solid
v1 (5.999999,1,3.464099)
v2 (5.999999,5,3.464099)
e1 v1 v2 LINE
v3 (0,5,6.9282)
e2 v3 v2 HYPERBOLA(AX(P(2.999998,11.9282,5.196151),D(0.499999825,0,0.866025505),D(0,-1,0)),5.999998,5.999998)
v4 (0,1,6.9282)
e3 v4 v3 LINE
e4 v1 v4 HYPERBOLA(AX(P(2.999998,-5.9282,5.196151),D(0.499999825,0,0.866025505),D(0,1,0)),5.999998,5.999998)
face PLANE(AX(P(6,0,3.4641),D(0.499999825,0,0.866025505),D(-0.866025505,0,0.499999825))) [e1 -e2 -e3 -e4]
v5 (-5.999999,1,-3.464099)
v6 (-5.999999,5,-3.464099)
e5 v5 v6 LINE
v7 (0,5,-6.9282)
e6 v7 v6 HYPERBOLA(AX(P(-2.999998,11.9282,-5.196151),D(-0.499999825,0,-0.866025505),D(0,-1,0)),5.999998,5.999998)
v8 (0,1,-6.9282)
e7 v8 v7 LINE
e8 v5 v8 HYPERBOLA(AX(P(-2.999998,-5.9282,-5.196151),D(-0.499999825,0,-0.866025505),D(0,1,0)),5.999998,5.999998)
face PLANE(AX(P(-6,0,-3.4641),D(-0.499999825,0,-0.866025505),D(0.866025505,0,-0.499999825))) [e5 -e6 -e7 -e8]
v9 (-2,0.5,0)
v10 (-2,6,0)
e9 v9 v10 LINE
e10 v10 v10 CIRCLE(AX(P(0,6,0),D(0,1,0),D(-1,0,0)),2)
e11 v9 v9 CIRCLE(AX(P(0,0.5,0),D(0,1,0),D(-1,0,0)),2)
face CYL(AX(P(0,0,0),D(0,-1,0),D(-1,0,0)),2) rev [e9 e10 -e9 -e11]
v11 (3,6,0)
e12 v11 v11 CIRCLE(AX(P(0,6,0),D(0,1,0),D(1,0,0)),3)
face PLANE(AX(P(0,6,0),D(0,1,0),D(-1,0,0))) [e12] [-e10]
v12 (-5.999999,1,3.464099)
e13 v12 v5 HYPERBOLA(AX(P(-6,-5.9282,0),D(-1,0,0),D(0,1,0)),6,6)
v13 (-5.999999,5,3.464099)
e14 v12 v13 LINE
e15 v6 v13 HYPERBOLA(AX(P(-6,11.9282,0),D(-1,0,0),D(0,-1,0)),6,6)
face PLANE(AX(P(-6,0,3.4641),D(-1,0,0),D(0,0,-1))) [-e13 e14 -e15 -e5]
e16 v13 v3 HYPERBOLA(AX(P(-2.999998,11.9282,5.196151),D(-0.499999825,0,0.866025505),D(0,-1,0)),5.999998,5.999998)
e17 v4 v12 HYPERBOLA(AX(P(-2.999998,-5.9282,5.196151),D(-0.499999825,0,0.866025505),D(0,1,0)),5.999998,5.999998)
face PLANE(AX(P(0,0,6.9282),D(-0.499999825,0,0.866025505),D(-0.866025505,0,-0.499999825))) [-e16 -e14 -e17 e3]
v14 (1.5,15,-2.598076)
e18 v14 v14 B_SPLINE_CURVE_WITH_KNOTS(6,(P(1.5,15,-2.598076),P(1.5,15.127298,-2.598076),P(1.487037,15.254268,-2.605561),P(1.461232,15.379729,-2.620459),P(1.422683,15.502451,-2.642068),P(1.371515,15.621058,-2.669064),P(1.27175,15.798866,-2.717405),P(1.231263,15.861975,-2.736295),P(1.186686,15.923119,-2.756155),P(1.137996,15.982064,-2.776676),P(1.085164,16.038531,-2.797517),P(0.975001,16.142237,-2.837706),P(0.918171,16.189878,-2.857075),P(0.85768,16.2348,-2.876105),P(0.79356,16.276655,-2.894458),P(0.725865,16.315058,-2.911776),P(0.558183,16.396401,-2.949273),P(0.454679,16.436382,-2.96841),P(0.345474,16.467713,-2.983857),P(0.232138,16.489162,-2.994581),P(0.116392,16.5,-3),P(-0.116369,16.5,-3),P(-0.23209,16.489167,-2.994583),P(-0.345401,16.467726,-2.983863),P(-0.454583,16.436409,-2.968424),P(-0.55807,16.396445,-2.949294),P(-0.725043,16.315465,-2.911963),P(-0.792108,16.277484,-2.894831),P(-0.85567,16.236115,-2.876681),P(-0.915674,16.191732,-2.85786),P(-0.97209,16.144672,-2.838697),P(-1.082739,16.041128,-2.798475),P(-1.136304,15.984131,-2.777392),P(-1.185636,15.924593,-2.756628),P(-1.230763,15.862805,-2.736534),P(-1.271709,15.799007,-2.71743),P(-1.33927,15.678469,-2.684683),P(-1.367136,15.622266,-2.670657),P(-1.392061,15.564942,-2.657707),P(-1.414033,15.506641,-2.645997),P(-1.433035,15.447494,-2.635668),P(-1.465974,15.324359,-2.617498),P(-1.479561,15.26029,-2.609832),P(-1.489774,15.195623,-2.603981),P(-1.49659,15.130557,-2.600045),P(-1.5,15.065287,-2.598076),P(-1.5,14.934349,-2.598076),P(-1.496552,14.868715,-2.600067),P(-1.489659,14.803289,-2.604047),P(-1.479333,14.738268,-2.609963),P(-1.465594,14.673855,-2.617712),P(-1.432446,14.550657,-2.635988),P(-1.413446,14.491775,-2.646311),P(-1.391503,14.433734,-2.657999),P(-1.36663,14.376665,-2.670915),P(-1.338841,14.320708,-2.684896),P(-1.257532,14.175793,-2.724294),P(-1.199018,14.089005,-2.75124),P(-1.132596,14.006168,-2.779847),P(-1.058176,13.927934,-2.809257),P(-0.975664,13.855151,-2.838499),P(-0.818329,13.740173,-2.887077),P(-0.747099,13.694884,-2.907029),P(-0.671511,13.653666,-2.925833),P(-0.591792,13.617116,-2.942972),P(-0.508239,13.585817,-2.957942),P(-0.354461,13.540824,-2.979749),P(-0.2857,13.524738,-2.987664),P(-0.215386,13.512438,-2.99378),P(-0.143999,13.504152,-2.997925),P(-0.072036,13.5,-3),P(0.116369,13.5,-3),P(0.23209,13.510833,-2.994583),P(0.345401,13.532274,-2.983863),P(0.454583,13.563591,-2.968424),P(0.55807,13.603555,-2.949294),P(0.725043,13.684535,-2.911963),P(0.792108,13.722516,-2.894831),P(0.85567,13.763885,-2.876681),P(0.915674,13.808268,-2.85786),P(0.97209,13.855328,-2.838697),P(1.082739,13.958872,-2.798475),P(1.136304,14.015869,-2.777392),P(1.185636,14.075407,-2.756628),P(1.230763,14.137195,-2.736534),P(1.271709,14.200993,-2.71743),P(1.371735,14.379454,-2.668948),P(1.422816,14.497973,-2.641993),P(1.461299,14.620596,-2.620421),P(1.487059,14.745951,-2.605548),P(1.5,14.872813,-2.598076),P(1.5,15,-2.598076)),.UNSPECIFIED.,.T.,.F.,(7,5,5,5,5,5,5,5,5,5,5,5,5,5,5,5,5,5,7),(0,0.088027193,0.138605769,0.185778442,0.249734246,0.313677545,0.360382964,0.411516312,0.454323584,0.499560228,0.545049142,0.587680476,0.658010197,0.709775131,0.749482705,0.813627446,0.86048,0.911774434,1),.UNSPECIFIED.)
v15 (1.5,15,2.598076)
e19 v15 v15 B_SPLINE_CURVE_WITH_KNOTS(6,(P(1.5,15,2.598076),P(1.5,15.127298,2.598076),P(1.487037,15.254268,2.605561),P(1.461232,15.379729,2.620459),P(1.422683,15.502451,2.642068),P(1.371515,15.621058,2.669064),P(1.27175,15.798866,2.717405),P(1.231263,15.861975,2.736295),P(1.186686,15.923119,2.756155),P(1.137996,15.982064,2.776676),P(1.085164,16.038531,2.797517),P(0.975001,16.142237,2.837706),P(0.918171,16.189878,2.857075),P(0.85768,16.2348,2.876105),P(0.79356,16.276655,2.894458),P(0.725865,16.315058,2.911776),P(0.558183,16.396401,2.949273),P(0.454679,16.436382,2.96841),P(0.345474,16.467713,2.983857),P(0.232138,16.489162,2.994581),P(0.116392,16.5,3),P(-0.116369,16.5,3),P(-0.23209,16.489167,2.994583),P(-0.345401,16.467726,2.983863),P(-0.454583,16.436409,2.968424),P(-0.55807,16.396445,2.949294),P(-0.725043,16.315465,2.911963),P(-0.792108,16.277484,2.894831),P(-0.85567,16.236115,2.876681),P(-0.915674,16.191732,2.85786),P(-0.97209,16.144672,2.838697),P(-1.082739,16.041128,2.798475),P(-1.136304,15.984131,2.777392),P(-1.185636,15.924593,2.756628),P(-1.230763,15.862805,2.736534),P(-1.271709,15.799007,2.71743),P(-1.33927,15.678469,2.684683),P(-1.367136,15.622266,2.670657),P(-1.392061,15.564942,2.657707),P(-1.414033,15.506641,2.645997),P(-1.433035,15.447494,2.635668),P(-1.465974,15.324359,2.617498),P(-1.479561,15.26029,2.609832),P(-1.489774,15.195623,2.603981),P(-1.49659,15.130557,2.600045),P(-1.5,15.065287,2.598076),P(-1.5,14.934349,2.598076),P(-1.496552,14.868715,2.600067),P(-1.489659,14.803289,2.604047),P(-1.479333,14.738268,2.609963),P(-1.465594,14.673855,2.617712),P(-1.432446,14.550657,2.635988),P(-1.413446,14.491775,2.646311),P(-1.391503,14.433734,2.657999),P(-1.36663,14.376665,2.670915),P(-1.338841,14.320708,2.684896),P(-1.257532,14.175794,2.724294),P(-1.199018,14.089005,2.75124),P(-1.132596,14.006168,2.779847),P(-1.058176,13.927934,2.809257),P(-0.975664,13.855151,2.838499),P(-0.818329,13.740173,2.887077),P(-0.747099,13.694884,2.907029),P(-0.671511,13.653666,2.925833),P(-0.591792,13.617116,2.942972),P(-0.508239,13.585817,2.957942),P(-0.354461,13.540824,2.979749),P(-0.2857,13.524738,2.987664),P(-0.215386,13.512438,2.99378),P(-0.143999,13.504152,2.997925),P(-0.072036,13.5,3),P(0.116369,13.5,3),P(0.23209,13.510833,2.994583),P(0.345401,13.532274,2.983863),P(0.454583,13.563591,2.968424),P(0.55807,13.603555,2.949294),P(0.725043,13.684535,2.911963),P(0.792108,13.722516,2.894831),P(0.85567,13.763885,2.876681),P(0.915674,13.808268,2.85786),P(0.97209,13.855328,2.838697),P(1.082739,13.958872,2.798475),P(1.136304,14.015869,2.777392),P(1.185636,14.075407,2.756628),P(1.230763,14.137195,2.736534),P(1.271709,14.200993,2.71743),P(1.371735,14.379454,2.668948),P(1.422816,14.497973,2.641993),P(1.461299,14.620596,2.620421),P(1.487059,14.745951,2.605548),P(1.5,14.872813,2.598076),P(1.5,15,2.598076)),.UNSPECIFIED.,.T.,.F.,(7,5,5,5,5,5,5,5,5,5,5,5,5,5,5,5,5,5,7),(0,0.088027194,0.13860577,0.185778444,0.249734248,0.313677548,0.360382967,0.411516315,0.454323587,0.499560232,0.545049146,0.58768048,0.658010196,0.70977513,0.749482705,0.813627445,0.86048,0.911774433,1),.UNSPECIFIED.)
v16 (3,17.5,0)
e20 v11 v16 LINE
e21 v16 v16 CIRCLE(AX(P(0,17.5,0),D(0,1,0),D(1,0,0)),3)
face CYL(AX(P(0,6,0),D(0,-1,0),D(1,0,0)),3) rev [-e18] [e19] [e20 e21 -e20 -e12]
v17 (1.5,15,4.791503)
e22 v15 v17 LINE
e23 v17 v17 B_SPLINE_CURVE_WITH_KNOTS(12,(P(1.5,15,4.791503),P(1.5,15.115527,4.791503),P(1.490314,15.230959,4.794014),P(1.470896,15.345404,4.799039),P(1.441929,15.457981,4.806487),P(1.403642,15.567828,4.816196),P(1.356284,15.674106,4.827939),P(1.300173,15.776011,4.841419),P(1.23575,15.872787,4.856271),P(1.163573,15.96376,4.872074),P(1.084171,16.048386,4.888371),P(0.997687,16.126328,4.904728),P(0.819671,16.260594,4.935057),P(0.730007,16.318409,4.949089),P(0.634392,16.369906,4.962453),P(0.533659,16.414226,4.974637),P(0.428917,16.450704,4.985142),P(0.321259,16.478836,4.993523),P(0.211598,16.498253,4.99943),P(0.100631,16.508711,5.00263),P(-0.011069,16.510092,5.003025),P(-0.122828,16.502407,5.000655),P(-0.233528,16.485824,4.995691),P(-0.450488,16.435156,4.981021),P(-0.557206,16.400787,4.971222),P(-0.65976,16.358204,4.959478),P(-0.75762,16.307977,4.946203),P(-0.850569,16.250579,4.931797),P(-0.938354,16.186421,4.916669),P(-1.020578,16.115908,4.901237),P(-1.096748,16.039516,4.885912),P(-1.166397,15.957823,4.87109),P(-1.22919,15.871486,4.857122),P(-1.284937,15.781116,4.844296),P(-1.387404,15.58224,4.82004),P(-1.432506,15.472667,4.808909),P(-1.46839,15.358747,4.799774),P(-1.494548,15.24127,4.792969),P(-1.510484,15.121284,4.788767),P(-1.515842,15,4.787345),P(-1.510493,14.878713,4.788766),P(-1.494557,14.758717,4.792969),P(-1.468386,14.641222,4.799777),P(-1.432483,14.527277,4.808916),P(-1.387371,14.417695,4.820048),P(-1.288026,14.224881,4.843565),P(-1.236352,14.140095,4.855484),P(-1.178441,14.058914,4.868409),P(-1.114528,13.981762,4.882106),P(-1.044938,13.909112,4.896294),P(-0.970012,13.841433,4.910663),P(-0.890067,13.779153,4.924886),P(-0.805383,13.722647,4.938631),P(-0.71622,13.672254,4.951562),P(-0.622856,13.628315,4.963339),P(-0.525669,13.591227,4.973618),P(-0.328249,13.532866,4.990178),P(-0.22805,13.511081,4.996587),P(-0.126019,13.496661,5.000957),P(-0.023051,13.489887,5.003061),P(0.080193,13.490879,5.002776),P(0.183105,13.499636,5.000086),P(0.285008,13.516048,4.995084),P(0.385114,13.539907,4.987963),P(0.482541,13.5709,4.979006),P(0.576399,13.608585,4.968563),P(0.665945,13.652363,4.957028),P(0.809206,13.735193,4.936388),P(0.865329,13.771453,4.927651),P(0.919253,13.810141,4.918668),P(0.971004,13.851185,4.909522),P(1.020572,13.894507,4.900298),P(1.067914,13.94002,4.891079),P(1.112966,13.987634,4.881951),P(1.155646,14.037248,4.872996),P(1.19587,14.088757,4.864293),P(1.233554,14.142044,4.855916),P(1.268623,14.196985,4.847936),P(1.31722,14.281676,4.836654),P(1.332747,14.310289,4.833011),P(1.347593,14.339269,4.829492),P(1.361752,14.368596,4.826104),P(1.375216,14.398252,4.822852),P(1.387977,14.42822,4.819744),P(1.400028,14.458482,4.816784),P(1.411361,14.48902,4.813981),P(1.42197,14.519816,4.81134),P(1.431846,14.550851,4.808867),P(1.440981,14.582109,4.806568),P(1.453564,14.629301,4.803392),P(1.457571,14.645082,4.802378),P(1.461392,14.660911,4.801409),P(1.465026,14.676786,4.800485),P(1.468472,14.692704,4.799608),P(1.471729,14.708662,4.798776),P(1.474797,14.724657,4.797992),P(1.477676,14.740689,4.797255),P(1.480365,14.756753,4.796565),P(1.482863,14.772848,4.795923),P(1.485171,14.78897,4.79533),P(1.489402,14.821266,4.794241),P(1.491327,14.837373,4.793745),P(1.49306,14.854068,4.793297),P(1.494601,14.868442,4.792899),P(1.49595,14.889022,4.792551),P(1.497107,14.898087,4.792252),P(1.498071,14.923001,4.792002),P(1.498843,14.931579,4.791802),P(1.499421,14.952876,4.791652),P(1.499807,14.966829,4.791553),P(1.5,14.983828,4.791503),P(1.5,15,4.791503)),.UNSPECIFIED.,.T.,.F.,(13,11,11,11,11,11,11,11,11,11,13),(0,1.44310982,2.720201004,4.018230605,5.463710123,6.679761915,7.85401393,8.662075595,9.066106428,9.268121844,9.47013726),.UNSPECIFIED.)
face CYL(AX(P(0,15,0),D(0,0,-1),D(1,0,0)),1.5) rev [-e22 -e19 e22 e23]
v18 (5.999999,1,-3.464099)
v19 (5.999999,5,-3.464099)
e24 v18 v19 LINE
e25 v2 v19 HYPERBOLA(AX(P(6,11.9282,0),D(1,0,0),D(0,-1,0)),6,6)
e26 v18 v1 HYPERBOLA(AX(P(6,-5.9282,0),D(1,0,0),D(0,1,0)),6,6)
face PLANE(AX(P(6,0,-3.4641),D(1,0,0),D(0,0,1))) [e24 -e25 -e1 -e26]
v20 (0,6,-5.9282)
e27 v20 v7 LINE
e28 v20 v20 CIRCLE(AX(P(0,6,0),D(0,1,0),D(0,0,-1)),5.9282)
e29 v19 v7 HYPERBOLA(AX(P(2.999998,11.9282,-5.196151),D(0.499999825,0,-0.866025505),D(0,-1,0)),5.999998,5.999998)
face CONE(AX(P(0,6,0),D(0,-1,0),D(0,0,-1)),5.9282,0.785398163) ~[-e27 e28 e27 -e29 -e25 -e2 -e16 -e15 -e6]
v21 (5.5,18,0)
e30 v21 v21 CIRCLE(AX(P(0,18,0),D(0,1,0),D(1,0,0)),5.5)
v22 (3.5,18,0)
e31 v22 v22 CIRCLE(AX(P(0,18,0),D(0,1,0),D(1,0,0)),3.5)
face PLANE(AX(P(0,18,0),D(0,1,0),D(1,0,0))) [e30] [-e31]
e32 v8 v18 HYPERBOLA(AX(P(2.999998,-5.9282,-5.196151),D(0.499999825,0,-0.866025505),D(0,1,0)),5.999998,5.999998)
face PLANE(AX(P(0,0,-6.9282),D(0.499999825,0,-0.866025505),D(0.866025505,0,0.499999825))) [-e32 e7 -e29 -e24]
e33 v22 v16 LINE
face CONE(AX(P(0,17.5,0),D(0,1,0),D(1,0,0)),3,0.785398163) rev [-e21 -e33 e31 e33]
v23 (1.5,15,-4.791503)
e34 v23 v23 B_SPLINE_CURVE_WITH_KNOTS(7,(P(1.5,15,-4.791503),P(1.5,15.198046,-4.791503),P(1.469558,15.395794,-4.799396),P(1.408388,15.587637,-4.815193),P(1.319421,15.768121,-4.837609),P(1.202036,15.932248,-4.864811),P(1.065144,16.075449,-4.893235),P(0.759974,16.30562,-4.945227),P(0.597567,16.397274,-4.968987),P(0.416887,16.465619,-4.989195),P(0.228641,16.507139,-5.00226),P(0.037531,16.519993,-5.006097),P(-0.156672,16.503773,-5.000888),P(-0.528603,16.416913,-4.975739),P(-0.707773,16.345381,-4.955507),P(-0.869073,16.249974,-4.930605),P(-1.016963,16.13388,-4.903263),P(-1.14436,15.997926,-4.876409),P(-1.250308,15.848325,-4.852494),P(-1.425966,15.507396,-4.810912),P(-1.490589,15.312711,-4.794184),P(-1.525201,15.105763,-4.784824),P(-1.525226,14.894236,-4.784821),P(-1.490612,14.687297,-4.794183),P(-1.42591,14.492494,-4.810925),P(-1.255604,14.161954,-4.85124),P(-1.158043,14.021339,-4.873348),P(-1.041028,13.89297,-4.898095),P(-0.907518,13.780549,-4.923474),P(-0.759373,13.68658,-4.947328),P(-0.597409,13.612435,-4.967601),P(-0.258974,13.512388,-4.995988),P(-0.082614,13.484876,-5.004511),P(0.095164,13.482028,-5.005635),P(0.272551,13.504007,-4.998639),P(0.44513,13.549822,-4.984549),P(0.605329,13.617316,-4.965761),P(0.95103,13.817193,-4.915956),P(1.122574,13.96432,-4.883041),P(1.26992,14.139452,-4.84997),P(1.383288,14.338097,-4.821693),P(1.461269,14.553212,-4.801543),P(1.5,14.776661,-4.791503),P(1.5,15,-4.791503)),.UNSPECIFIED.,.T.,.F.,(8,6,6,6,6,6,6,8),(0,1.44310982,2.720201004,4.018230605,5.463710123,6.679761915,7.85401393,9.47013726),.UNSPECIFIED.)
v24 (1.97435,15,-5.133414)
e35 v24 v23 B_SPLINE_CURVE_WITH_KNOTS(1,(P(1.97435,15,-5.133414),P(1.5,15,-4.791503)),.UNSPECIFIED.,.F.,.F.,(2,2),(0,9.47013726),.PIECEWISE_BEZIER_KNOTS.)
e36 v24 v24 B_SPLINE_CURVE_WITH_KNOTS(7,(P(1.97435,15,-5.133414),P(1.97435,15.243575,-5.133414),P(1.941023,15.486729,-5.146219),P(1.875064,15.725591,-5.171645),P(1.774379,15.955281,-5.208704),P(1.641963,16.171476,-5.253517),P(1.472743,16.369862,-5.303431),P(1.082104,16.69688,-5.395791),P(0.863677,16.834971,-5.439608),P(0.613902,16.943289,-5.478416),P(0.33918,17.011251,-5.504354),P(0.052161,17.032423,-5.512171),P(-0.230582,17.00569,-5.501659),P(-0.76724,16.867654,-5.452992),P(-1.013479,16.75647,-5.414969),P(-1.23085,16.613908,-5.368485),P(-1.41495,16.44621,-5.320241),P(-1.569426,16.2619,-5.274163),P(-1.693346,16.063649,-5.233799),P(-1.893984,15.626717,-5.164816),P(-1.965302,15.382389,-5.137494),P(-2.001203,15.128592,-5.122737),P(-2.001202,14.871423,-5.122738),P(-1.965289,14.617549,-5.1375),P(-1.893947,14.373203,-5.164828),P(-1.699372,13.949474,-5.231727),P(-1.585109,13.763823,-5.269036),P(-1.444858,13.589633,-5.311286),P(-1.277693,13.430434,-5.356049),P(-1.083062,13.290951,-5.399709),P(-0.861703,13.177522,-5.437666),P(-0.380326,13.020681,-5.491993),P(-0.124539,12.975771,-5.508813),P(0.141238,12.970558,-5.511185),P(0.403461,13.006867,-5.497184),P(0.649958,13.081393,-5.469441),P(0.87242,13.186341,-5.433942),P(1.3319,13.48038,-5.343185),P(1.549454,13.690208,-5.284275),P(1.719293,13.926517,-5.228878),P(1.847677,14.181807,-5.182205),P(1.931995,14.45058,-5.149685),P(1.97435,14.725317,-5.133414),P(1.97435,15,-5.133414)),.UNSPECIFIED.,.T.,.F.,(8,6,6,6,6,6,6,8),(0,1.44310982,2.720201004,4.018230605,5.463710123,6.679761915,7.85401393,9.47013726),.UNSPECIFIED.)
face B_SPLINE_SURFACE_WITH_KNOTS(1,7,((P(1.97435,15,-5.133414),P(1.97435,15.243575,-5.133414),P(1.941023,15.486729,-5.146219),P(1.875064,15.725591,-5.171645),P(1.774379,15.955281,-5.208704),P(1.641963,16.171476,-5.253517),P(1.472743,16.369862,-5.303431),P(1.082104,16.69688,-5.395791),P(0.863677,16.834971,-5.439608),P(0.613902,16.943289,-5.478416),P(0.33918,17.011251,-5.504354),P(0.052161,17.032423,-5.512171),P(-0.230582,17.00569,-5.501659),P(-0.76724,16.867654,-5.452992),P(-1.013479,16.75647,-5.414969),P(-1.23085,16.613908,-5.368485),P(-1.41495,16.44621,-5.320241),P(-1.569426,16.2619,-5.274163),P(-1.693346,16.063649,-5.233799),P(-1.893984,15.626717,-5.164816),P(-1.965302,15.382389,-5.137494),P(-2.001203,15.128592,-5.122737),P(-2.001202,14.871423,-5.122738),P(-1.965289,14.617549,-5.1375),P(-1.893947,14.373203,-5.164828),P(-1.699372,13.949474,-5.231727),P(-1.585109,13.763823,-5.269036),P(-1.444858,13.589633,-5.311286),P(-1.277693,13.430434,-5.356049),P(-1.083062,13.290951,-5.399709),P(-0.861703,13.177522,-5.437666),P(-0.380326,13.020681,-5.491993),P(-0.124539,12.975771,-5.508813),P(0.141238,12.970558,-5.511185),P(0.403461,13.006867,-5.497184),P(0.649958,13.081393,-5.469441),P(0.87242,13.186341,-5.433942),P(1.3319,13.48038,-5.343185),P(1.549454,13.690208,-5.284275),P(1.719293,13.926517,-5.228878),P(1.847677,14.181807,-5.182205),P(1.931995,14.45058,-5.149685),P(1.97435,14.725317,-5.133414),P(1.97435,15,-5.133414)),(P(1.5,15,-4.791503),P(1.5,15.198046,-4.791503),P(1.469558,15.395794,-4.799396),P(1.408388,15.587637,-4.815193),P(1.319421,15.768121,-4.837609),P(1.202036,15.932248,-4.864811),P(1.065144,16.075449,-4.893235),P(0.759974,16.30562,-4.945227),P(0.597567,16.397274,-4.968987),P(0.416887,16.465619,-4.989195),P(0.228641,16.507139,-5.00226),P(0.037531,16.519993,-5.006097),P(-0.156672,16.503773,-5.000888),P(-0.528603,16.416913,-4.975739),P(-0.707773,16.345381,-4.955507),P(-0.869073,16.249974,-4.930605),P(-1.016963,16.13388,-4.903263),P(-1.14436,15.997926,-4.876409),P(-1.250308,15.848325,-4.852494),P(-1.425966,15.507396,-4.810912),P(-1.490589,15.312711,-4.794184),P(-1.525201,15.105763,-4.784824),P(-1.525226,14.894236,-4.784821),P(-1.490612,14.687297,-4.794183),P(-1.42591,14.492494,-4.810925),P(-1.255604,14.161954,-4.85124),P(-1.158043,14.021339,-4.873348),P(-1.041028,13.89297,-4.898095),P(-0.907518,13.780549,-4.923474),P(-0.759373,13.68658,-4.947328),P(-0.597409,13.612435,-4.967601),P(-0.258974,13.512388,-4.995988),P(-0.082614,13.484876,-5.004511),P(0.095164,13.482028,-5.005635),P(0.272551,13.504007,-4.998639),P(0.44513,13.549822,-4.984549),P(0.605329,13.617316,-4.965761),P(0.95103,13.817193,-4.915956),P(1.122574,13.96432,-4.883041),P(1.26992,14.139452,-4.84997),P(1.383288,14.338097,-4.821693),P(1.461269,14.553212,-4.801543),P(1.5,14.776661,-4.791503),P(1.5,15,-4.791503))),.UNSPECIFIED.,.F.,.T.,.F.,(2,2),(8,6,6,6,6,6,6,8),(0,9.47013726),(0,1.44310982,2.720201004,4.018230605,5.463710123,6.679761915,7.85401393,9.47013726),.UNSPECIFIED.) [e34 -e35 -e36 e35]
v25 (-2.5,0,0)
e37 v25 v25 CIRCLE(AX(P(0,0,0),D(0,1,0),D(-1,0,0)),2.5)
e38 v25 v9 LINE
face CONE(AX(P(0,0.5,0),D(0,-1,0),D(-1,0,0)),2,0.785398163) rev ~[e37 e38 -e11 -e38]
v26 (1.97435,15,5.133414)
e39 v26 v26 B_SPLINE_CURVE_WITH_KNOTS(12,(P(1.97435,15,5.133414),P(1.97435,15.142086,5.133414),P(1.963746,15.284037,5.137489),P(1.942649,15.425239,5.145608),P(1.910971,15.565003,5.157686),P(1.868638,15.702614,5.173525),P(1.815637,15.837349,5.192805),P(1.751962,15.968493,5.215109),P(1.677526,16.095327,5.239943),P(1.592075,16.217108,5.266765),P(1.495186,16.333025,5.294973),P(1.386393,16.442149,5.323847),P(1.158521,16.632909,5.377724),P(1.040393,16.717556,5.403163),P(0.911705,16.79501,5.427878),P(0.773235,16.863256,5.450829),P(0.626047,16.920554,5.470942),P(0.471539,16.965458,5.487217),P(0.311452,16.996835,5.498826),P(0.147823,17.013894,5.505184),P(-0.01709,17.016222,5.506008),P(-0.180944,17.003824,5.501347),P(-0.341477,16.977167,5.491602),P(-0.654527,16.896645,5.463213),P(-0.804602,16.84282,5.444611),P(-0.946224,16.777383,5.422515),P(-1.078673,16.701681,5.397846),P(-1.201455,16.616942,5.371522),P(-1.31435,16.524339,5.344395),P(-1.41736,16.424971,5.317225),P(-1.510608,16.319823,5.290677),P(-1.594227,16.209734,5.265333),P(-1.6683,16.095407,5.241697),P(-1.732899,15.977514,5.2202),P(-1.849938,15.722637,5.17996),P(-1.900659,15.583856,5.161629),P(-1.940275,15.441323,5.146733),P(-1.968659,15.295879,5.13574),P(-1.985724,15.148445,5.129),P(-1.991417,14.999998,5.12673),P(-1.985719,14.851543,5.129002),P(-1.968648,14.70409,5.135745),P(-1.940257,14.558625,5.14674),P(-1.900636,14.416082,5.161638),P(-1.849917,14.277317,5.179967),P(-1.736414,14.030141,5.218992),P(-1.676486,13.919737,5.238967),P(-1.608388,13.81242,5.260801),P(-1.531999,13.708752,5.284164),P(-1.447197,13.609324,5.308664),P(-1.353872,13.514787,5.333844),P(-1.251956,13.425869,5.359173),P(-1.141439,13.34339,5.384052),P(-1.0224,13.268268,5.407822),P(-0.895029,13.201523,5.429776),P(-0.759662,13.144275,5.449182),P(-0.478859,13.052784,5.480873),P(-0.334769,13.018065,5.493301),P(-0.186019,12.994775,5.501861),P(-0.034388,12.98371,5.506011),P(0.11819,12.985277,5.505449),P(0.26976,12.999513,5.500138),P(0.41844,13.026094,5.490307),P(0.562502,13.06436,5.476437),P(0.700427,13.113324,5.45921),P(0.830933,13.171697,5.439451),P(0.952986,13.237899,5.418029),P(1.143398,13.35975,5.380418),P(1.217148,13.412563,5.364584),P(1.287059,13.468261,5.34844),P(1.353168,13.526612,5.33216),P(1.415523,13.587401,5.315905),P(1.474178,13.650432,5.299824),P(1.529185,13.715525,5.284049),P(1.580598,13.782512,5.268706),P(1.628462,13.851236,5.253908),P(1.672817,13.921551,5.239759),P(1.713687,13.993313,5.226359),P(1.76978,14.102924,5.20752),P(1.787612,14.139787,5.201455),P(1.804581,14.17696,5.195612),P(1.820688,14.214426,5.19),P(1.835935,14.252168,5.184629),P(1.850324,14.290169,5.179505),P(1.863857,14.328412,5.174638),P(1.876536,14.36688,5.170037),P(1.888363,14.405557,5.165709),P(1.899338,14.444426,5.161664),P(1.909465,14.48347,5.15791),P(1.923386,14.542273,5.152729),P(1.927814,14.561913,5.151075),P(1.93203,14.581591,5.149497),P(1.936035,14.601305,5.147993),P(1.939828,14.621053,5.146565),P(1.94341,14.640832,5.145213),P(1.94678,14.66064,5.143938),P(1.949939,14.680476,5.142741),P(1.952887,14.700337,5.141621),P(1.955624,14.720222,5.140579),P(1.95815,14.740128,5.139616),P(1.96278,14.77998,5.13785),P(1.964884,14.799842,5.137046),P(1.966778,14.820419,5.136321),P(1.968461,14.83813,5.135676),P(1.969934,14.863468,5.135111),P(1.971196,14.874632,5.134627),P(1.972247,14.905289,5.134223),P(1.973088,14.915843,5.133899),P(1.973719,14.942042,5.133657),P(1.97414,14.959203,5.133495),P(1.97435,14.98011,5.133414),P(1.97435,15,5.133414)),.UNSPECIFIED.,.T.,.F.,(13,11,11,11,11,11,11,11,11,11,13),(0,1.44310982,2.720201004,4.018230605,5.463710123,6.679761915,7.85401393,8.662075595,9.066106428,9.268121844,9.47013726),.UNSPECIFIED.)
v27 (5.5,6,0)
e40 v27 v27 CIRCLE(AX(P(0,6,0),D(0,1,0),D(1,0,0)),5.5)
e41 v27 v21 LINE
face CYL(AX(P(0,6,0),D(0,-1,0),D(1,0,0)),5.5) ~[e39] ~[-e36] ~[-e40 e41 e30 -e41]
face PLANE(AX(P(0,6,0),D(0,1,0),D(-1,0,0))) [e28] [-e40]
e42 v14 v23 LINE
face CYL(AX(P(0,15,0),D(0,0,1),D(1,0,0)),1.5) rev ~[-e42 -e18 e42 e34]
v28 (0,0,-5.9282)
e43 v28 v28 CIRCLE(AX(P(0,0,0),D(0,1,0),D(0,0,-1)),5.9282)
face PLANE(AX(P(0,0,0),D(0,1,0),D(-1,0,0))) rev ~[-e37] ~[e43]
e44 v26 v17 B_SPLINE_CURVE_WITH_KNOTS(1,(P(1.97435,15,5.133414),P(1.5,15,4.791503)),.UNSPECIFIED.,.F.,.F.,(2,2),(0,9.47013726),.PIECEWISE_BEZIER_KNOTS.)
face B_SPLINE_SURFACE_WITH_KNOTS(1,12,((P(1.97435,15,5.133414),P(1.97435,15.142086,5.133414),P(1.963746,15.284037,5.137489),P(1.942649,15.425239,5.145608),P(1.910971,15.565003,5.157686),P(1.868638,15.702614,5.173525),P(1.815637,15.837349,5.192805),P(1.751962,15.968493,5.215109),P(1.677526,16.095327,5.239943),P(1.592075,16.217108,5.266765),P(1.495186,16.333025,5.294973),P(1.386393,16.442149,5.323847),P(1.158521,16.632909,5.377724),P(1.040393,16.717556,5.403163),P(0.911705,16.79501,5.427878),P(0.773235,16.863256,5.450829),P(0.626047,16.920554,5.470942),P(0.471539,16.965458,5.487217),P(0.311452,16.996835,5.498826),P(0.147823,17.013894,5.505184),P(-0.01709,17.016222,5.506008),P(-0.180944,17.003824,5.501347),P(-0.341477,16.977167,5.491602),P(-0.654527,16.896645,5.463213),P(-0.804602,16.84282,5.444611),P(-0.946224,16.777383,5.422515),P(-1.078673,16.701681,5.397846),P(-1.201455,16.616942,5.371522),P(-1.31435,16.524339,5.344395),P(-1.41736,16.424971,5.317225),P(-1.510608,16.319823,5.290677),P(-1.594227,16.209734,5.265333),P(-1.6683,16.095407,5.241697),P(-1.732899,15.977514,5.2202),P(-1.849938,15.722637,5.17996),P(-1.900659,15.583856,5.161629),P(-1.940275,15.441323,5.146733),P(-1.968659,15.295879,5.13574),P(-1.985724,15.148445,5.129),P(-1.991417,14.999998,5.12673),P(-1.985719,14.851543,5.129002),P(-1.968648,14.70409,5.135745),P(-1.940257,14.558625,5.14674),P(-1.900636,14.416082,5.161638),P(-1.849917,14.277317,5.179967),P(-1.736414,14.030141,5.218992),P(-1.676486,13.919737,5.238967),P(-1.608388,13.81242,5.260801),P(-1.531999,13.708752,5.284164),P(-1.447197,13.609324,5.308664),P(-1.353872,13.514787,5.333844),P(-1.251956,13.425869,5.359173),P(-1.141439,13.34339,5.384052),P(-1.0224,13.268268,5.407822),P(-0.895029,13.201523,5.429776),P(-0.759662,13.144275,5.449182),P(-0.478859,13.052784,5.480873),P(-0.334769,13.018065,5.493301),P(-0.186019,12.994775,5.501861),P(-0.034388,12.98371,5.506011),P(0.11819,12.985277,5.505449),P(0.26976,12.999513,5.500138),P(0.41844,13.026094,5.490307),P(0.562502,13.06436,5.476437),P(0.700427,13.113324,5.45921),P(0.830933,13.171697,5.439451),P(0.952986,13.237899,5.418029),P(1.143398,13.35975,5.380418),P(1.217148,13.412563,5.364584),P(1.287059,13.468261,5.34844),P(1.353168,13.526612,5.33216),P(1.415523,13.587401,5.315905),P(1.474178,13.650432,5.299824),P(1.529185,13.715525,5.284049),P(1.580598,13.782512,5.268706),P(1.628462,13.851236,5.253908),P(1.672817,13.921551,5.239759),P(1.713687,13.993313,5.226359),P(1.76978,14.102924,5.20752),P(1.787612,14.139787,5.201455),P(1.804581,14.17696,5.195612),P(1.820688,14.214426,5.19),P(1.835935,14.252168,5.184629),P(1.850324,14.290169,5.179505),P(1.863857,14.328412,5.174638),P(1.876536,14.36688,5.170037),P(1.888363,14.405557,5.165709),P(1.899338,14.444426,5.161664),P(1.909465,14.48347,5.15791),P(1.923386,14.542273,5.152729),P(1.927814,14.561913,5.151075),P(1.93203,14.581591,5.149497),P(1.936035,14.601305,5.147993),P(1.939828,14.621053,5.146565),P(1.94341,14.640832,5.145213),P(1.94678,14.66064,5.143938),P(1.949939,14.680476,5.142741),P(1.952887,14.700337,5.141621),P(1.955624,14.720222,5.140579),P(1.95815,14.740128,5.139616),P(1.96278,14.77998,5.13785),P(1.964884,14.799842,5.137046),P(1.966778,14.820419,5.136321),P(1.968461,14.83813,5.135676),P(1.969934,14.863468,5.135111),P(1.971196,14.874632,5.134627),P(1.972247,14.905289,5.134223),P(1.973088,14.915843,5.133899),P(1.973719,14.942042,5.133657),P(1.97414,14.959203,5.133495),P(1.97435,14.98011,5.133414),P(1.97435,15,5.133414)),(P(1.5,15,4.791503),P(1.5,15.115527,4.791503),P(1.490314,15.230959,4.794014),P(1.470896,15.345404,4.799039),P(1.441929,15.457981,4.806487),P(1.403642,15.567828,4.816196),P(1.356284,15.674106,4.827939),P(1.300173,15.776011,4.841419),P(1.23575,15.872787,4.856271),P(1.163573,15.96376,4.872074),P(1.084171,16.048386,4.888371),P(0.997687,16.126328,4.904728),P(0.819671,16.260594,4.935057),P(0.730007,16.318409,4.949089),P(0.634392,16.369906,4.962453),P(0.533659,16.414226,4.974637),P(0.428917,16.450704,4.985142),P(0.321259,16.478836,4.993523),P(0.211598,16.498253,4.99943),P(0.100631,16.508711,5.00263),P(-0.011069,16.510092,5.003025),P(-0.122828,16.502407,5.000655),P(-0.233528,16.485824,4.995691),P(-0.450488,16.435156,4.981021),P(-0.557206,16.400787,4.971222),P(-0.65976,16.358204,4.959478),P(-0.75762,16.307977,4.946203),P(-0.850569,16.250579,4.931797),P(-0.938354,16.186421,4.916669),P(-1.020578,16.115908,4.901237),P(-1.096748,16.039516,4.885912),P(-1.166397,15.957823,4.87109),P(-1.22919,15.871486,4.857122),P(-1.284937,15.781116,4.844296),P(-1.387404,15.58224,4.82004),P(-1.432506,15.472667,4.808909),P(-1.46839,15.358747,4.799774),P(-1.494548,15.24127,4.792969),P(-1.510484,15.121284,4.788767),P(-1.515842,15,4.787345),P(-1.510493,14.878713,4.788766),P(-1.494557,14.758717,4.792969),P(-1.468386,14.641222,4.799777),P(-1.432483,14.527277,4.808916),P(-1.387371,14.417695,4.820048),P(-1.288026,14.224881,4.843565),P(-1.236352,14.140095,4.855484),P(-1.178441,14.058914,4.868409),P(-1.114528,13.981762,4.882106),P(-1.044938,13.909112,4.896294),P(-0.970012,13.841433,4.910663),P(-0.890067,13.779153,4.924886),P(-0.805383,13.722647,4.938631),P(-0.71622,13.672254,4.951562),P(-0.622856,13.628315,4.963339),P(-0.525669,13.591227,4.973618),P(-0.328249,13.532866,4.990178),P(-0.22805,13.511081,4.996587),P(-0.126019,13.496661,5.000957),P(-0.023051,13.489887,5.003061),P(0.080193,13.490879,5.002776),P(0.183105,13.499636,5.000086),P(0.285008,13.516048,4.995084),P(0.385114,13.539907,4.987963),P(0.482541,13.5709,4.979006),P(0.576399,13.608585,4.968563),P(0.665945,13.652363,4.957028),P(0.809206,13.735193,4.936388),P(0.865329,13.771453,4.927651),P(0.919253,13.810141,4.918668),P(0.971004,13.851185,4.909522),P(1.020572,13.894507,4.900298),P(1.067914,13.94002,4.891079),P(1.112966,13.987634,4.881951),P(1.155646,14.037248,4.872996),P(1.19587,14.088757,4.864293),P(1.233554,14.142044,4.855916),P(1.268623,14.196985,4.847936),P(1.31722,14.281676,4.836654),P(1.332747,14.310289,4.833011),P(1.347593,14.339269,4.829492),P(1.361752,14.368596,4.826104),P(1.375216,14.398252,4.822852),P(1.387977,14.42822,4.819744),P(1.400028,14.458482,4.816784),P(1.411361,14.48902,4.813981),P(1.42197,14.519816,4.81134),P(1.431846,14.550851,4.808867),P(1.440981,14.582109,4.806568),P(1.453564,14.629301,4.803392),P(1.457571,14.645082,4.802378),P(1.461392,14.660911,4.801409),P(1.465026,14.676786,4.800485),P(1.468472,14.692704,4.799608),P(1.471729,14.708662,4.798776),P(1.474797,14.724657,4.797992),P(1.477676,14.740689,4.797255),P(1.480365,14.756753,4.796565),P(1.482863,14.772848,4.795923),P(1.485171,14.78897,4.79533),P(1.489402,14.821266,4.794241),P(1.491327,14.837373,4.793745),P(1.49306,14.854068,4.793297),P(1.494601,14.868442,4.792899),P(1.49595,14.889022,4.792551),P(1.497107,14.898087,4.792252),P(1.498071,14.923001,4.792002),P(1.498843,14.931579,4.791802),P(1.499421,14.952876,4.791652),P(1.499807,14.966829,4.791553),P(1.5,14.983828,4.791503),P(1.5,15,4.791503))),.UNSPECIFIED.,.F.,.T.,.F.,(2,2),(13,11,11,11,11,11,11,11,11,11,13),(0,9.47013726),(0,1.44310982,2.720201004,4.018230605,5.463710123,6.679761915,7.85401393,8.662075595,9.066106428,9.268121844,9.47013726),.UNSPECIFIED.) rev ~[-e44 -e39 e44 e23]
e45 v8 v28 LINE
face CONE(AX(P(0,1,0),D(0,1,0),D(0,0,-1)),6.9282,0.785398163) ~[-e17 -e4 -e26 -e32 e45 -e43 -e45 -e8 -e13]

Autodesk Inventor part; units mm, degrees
ref_plane "YZ Plane" through (0, 0, 0) normal (1, 0, 0) x (0, 1, 0)
ref_plane "XZ Plane" through (0, 0, 0) normal (0, 1, 0) x (-1, 0, 0)
ref_plane "XY Plane" through (0, 0, 0) normal (0, 0, 1) x (1, 0, 0)
sketch "Sketch1" plane through (0, 0, 0) normal (0, 1, 0) x (-1, 0, 0)
  line L0 (6, -3.4641) -> (0, -6.9282)
  line L1 (0, -6.9282) -> (-6, -3.4641)
  line L2 (-6, -3.4641) -> (-6, 3.4641)
  line L3 (-6, 3.4641) -> (0, 6.9282)
  line L4 (0, 6.9282) -> (6, 3.4641)
  line L5 (6, 3.4641) -> (6, -3.4641)
  circle A0 centre (0, 0) radius 2
  dimension "d0" = 6
  dimension "d1" = 4
extrude "Extrusion1" add sketch "Sketch1" along normal blind 6
sketch "Sketch2" plane through (0, 6, 0) normal (0, 1, 0) x (1, 0, 0)
  circle A0 centre (0, 0) radius 3
  circle A1 centre (0, 0) radius 5.5
  dimension "d4" = 6
  dimension "d5" = 11
extrude "Extrusion2" add sketch "Sketch2" along normal blind 12
sketch "Sketch3" plane through (0, 0, 0) normal (0, 0, 1) x (1, 0, 0)
  circle A0 centre (0, 15) radius 1.5
  line L0 (0, 0) -> (0, 6) projected
  line L1 (5.5, 18) -> (-5.5, 18) projected
  dimension "d16" = 3
  dimension "d44" = 0
  dimension "d45" = 3
extrude "Extrusion3" cut sketch "Sketch3" along normal mid plane 24
chamfer "Chamfer" distance 0.5 angle 45 4 edges at (2, 0, 0) (-3, 18, 0) (-1.5, 15.0054, -5.2915) (-1.5, 15.0054, 5.2915)
sketch "Sketch4" plane through (0, 0, 0) normal (1, 0, 0) x (0, 1, 0)
  line L0 (0, -3.4641) -> (0, -6.9282) projected
  line L1 (0, -6.9282) -> (0, -5.9282)
  line L2 (0, -6.9282) -> (1, -6.9282)
  line L3 (1, -6.9282) -> (0, -5.9282)
  line L4 (-6, 0) -> (36, 0) projected
  line L5 (0, -6.9282) -> (6, -6.9282) projected
  line L6 (6, -6.9282) -> (5, -6.9282)
  line L7 (6, -6.9282) -> (6, -5.9282)
  line L8 (6, -5.9282) -> (5, -6.9282)
  dimension "d31" = 1
  dimension "d32" = 1
  dimension "d36" = 1
  dimension "d37" = 1
revolve "Revolution" cut sketch "Sketch4" angle 360 about axis through (0, -10, 0) along (0, 1, 0)
thread "Thread1" size "M3x0.5" class "6H" standard "ANSI Metric M Profile" full length
thread "Thread2" size "M3x0.5" class "6H" standard "ANSI Metric M Profile" full length
thread "Thread3" size "M4x0.7" class "6H" standard "ANSI Metric M Profile" full length
properties part number "6mmID_30mmL_hex_adapter"
